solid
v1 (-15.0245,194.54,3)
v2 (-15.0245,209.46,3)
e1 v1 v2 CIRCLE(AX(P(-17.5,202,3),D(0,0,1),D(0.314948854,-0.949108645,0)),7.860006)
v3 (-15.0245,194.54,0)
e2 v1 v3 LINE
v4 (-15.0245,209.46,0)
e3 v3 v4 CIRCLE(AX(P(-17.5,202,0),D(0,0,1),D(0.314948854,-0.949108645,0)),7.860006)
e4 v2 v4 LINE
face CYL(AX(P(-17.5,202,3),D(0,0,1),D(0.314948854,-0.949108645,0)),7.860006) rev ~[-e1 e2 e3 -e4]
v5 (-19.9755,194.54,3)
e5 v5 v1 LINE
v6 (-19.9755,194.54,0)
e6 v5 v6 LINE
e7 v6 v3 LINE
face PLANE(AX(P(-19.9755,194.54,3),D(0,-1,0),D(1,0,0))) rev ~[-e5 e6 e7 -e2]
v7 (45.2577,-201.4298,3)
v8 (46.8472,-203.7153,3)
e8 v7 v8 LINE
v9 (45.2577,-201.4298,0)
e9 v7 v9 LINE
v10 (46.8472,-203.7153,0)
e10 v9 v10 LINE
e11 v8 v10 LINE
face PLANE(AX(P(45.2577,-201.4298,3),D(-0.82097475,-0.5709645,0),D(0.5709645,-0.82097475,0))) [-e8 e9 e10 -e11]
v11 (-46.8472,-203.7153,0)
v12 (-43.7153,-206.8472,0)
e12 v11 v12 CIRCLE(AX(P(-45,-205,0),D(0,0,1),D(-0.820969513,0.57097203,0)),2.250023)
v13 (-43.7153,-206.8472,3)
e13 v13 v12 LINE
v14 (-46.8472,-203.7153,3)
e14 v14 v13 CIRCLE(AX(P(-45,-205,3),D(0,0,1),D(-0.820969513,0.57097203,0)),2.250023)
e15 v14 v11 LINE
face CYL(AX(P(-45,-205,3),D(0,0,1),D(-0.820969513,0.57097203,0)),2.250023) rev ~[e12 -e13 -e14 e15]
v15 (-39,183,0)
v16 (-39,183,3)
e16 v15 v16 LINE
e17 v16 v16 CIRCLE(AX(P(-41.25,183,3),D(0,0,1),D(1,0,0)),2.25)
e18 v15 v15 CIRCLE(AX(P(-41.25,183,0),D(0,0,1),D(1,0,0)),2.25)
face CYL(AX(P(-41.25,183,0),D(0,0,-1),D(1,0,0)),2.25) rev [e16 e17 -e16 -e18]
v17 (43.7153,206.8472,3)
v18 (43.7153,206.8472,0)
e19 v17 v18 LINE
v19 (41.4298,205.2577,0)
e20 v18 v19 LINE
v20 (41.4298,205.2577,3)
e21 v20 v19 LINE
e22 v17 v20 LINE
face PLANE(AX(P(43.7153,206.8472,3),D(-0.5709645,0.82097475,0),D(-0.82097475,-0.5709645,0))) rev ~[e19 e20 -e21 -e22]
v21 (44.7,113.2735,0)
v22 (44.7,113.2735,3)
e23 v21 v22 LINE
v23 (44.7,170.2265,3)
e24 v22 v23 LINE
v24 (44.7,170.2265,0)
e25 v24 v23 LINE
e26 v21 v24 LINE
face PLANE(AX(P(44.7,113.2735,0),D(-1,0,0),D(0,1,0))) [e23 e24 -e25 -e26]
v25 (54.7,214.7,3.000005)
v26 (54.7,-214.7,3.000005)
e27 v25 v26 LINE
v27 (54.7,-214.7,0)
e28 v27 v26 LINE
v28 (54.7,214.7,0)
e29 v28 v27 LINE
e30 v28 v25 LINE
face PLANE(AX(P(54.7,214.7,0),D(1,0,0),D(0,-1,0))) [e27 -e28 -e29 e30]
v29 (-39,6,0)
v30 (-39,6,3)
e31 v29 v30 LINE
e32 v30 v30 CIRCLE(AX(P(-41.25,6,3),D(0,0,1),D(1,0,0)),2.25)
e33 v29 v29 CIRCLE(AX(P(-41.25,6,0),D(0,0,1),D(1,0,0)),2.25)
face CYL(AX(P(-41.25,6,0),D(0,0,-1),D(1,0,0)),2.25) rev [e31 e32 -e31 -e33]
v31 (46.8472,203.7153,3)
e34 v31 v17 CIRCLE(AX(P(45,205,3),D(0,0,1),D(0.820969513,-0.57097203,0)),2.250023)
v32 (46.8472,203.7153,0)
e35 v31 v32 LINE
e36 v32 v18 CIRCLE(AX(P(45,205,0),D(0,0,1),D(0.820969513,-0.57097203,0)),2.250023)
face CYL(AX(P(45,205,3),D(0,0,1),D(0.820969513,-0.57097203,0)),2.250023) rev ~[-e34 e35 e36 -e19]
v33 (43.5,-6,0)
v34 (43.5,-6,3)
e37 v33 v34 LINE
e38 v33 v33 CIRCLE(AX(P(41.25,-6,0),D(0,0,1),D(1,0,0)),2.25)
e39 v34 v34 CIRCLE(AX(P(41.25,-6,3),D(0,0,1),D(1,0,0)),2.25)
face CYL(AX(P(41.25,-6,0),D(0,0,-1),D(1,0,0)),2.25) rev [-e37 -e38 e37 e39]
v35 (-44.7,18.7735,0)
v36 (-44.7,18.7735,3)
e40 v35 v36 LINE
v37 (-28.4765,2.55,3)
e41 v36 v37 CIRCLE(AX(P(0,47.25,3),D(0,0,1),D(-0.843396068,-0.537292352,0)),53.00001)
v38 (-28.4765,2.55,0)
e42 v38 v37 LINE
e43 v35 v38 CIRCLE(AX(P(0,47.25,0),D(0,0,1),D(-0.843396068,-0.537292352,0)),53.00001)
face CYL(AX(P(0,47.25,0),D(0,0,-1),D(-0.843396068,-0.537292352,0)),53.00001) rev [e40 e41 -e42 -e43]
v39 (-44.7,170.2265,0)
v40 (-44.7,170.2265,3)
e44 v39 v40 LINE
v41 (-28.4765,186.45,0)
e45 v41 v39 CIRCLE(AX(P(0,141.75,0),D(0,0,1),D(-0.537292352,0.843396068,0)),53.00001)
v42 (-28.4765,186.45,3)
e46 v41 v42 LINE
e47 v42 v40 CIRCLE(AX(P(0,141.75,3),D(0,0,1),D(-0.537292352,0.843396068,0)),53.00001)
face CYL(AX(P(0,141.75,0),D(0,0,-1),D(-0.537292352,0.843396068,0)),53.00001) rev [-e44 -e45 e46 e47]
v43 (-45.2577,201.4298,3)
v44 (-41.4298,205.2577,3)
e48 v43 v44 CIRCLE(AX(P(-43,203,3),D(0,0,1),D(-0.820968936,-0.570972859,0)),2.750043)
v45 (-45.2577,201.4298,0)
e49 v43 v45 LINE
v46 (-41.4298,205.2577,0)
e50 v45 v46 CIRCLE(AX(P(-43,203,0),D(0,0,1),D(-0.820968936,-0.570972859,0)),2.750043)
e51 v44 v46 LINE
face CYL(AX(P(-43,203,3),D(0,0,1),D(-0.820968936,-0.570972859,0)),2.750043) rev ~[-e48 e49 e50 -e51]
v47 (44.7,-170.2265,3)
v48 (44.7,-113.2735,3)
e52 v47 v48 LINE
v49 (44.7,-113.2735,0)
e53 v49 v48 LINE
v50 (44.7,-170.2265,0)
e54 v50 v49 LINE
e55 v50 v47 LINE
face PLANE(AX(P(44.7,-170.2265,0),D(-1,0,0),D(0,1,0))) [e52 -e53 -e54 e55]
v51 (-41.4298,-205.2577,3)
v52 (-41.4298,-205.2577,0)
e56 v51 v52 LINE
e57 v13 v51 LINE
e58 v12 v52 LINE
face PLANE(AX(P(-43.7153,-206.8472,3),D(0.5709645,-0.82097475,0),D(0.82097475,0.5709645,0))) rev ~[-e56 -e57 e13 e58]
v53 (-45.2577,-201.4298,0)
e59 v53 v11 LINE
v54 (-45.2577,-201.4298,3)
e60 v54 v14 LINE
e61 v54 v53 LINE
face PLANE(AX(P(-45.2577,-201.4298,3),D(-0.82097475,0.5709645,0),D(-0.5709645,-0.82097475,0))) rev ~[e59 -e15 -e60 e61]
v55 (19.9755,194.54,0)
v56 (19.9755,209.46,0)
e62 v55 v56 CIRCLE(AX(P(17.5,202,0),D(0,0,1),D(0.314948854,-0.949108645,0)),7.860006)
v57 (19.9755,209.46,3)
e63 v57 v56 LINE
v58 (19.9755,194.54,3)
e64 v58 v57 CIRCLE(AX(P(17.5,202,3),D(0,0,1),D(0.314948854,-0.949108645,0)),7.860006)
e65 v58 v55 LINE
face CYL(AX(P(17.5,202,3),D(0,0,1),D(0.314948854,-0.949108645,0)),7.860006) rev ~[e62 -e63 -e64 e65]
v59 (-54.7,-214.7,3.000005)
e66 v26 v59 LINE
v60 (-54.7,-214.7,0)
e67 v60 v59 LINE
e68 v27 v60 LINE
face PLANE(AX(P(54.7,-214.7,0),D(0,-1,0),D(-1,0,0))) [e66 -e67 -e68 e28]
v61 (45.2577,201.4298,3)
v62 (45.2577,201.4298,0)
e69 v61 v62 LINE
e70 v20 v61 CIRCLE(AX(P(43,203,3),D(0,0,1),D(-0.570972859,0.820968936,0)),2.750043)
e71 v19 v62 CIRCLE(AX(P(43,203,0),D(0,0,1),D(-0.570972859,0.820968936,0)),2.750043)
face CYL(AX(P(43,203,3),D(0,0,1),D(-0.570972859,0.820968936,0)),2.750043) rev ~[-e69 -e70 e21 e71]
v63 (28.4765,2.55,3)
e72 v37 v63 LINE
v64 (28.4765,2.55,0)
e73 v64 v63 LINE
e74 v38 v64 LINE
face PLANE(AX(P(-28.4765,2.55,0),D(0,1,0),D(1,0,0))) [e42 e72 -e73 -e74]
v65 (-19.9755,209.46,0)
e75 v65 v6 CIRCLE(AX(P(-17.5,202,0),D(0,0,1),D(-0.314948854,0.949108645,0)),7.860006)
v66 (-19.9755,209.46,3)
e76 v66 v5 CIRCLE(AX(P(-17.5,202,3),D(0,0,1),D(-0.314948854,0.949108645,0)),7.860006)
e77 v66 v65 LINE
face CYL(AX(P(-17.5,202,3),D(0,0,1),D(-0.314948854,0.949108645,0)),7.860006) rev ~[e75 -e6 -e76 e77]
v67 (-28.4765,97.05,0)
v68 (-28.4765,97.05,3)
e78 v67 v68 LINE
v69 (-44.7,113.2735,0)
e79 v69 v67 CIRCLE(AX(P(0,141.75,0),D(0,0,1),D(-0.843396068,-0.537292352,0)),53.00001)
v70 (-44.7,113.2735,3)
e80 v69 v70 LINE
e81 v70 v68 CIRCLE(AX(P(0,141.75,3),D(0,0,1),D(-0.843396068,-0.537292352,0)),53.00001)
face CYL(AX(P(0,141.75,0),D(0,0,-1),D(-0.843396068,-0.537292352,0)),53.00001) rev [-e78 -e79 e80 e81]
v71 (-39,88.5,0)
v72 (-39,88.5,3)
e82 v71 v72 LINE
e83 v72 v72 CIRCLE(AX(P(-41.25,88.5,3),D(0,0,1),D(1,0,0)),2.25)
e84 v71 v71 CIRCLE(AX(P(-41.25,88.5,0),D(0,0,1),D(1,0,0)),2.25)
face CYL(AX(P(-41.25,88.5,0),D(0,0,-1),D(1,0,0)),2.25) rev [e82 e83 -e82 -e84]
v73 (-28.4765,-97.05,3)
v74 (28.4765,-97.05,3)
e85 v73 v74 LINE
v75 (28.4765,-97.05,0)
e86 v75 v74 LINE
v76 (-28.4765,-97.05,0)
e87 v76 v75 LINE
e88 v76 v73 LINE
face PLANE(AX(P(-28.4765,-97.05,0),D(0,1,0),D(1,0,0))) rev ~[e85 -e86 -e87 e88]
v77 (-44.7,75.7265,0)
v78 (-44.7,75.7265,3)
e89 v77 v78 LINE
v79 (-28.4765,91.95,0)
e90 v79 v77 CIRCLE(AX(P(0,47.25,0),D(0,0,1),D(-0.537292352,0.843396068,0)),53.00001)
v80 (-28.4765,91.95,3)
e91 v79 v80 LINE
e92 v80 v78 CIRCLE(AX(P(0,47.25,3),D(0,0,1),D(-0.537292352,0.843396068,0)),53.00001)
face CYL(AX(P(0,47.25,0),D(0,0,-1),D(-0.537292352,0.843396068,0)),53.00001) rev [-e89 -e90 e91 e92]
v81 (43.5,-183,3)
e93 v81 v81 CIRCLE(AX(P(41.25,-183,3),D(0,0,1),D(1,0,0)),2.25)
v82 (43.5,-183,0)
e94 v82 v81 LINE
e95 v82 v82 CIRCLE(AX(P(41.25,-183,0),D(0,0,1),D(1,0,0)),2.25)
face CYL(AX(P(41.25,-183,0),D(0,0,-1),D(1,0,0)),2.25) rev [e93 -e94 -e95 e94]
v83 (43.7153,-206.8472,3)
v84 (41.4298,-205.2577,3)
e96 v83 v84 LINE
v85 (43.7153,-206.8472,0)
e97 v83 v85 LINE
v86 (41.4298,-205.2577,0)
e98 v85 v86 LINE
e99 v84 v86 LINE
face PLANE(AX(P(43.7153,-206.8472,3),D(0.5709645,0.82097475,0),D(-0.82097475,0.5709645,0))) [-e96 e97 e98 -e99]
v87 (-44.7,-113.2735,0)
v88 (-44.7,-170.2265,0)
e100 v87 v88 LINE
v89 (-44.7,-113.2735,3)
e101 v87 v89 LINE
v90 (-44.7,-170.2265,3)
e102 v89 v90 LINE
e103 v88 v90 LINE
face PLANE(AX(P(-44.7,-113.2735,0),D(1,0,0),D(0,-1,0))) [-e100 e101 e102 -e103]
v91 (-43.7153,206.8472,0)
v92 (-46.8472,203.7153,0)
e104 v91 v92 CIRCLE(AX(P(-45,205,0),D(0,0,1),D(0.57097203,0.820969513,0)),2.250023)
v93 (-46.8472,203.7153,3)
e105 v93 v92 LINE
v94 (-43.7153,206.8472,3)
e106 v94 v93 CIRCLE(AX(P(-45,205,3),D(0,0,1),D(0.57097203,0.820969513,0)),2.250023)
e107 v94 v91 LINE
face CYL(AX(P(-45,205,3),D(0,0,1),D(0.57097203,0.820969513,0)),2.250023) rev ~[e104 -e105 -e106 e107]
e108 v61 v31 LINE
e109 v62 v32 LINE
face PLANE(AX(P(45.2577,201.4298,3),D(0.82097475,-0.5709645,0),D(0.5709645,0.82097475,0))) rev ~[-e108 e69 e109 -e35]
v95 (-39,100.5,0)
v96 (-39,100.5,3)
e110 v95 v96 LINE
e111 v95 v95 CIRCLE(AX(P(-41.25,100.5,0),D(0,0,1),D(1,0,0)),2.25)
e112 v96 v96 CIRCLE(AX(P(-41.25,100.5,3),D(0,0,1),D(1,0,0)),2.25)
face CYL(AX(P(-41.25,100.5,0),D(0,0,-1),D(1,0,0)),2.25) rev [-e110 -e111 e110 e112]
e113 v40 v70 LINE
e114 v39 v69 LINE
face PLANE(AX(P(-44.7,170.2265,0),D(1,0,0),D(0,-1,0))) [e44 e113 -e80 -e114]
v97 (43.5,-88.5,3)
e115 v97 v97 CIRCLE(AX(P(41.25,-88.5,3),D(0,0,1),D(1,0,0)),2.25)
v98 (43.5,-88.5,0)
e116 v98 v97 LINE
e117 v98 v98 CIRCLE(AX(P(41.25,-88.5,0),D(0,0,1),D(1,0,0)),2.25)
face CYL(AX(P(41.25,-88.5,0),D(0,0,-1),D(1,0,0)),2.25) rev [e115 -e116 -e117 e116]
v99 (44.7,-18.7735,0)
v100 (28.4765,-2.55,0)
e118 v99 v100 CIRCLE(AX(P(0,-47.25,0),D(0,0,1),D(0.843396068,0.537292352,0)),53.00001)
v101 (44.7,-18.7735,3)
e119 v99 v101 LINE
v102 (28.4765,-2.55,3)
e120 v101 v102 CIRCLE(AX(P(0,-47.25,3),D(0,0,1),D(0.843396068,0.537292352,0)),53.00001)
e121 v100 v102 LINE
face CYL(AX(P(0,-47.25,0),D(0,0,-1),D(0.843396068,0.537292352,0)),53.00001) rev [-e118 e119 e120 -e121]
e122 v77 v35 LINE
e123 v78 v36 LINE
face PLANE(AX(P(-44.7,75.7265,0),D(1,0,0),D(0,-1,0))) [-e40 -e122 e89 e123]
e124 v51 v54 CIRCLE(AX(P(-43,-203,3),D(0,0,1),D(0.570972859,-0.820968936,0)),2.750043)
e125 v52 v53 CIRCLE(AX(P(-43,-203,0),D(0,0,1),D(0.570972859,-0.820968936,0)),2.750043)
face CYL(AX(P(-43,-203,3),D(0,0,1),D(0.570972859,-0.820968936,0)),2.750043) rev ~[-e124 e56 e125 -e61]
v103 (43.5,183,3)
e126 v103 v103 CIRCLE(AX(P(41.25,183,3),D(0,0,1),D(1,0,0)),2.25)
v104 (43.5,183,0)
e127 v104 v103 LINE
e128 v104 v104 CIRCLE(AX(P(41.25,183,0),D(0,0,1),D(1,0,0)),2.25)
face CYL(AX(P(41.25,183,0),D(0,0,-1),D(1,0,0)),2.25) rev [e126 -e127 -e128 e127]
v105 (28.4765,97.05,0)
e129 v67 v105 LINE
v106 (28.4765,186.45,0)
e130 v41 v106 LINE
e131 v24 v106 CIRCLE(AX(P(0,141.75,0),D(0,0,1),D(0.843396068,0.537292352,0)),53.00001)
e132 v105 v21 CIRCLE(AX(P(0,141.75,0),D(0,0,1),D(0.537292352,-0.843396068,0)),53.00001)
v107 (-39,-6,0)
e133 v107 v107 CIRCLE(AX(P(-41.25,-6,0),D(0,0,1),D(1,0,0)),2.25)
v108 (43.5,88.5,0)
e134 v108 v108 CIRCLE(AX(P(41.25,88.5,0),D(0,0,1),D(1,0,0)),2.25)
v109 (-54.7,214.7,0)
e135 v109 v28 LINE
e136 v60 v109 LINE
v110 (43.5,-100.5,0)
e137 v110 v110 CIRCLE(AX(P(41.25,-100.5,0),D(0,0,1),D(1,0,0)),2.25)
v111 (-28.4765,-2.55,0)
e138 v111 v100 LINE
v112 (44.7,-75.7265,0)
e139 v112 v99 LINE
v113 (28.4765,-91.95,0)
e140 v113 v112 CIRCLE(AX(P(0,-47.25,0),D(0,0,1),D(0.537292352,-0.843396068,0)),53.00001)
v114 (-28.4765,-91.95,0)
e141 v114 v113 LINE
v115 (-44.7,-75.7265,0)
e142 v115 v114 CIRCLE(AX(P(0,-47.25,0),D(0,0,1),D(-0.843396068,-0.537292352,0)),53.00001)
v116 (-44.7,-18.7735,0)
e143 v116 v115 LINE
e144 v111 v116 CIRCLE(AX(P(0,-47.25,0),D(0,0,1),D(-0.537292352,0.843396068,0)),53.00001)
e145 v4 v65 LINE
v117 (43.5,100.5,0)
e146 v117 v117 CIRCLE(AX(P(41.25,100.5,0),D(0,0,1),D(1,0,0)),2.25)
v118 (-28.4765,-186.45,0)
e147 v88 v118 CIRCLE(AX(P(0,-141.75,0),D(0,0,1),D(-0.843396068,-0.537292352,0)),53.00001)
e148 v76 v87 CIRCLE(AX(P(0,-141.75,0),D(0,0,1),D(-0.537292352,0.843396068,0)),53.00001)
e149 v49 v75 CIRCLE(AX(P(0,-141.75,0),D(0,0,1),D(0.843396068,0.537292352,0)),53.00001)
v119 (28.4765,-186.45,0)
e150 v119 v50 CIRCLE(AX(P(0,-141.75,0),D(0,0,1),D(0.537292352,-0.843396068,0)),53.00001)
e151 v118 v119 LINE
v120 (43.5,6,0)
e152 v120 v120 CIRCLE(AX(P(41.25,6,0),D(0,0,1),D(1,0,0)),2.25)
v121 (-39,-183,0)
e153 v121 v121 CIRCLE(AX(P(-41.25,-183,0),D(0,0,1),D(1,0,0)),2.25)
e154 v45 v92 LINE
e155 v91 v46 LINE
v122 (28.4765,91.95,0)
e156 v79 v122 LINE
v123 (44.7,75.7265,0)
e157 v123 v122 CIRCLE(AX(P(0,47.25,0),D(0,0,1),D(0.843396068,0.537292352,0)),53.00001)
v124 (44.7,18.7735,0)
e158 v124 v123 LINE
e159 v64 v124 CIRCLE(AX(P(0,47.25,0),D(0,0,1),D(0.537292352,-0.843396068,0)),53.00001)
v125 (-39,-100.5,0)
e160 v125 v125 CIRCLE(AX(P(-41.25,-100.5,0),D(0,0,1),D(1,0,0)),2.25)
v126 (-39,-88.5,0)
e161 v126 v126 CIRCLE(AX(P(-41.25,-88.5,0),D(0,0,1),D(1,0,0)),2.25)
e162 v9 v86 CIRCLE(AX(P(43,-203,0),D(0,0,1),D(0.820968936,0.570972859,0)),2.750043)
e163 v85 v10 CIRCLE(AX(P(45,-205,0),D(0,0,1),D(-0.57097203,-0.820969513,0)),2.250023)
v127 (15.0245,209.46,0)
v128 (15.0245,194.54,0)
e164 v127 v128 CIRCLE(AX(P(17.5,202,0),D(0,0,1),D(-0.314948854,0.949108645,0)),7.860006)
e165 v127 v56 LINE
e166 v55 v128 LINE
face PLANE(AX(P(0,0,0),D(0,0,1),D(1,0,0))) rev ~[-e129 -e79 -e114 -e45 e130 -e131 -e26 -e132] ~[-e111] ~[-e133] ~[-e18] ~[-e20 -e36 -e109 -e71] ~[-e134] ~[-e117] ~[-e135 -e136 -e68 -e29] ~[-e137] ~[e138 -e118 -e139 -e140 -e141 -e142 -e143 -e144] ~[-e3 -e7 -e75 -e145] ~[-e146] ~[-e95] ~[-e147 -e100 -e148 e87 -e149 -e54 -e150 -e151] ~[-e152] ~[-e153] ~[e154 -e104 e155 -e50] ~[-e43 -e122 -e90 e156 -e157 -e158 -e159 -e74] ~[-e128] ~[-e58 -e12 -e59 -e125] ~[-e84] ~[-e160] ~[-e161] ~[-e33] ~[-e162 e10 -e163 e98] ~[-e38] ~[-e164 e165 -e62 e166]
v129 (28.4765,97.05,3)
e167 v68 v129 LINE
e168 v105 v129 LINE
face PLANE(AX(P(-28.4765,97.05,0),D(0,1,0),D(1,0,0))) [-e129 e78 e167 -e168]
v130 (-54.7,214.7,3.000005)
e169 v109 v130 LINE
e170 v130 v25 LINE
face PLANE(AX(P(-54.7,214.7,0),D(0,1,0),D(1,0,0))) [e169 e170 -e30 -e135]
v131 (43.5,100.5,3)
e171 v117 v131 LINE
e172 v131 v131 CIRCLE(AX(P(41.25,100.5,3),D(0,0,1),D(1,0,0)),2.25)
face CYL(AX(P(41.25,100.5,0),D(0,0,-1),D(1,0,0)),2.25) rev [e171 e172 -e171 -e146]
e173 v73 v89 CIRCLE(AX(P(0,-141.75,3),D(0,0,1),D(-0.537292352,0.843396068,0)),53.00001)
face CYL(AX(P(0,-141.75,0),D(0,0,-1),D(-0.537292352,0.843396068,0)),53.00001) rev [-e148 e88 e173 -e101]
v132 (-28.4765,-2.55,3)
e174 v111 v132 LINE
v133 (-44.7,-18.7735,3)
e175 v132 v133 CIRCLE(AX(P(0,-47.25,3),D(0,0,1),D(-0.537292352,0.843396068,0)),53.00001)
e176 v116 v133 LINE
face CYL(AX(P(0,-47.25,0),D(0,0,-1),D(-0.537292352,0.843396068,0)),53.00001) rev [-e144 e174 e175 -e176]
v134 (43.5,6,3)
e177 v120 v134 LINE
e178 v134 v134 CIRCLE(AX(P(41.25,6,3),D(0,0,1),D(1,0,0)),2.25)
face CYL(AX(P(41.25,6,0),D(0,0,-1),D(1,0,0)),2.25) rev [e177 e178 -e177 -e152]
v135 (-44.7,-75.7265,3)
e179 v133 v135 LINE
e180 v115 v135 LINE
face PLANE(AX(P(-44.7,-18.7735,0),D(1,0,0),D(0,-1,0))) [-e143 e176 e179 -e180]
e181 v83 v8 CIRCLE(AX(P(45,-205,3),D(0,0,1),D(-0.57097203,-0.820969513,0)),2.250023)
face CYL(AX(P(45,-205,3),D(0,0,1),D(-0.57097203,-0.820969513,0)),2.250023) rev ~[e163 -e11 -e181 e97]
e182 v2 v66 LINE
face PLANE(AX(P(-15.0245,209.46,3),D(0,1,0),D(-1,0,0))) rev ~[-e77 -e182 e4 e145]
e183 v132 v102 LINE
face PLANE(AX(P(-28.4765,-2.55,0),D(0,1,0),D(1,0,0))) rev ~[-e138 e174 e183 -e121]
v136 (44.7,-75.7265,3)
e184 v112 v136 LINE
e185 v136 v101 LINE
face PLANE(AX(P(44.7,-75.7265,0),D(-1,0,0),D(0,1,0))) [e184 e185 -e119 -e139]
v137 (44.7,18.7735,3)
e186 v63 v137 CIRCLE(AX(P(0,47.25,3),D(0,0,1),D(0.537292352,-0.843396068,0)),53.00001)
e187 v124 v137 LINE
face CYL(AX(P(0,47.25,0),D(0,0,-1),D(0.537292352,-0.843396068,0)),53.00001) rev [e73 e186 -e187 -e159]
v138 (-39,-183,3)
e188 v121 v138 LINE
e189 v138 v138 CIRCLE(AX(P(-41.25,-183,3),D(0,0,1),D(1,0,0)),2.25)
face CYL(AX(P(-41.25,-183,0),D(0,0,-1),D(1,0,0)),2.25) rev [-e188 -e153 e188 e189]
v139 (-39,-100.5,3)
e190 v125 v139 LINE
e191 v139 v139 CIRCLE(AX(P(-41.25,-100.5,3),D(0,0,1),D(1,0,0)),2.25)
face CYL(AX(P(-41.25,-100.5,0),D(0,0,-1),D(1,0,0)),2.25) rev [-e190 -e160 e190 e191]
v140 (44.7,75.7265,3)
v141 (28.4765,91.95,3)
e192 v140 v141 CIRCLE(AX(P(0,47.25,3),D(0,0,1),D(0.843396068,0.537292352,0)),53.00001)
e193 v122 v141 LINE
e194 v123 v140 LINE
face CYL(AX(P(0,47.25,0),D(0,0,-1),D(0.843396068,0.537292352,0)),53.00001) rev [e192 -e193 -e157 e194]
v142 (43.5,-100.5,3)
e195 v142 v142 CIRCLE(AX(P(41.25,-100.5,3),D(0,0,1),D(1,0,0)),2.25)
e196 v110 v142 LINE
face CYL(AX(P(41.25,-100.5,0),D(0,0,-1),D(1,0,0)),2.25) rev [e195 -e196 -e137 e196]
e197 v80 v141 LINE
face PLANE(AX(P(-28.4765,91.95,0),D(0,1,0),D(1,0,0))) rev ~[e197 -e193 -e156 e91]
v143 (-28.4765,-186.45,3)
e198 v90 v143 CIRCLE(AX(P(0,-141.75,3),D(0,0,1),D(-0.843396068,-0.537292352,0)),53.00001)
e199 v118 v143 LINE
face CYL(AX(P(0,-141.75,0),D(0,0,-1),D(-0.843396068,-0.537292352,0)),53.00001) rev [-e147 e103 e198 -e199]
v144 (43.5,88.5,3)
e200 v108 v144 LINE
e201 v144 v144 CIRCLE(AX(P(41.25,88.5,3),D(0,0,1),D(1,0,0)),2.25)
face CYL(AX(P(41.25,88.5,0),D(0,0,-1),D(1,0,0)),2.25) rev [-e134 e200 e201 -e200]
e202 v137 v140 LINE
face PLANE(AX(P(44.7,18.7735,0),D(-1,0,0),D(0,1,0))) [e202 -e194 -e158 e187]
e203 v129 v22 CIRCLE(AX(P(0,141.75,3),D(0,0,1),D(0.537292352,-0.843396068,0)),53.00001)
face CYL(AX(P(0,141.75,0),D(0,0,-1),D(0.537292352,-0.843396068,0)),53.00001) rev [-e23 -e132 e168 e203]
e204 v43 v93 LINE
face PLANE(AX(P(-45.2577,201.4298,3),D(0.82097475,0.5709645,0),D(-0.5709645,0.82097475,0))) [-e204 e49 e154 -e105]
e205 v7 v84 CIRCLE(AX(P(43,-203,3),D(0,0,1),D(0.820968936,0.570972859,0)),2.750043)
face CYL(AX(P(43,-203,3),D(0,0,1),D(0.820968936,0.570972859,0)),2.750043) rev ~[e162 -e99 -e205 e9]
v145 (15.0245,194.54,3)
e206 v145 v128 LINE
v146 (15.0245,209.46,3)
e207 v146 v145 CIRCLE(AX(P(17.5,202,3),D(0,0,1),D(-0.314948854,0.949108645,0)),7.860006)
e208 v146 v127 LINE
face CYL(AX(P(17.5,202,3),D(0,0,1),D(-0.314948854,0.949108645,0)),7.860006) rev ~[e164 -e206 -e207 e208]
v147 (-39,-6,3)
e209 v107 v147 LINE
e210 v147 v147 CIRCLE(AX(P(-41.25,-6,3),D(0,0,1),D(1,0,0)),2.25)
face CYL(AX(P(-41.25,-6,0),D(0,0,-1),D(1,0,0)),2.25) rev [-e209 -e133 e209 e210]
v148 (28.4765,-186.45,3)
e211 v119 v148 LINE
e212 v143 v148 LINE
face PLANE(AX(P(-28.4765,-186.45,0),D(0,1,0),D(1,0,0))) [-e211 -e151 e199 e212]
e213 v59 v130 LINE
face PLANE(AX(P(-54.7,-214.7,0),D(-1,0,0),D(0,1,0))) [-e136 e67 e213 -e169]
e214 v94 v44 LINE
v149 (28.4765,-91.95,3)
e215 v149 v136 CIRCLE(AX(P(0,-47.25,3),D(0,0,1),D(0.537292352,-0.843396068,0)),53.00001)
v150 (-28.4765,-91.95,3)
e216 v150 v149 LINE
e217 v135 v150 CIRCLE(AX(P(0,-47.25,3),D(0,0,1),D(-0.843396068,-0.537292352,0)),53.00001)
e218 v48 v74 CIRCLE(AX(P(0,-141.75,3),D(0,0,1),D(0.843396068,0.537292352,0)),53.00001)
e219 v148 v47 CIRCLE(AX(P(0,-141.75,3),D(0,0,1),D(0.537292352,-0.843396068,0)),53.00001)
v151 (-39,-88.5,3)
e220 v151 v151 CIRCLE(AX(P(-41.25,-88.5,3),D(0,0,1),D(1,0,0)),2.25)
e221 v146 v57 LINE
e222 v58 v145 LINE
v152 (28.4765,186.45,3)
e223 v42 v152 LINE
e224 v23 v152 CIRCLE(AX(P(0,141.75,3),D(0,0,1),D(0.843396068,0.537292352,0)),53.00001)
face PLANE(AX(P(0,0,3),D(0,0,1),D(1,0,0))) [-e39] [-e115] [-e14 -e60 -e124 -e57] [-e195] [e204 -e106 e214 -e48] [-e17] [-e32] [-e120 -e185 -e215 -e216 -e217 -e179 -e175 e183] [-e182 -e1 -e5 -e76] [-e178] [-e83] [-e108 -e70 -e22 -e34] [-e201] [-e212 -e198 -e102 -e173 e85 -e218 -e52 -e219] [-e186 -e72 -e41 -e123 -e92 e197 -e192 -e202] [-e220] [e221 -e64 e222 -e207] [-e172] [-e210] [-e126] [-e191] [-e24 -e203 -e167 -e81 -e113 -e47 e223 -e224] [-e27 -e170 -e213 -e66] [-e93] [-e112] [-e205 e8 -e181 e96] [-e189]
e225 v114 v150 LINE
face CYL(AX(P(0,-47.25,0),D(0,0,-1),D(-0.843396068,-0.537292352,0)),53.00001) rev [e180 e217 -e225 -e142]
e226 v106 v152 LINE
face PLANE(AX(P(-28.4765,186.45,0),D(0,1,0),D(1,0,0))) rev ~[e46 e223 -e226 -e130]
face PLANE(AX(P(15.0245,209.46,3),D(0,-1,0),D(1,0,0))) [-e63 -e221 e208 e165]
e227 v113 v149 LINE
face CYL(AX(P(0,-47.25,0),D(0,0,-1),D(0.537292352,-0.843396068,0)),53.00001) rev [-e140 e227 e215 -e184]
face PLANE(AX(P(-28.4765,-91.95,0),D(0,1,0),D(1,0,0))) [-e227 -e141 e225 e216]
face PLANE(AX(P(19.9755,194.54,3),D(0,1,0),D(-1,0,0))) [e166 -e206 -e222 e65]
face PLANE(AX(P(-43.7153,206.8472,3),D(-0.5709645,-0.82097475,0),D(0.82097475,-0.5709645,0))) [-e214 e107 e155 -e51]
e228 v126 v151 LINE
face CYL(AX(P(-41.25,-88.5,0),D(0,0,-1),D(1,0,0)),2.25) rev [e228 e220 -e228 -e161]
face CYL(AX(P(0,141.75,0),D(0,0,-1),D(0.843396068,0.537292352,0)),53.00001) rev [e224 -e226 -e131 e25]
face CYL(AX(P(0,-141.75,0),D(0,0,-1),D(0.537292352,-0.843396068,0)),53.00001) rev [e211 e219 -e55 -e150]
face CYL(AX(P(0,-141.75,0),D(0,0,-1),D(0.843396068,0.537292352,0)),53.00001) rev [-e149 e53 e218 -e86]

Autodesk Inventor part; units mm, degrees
ref_plane "YZ Plane" through (0, 0, 0) normal (1, 0, 0) x (0, 1, 0)
ref_plane "XZ Plane" through (0, 0, 0) normal (0, 1, 0) x (-1, 0, 0)
ref_plane "XY Plane" through (0, 0, 0) normal (0, 0, 1) x (1, 0, 0)
sketch "スケッチ1" plane through (0, 0, 0) normal (0, 0, 1) x (1, 0, 0)
  line L0 (-55, -215) -> (55, -215)
  line L1 (55, -215) -> (55, 215)
  line L2 (55, 215) -> (-55, 215)
  line L3 (-55, 215) -> (-55, -215)
  line L4 (-55, -215) -> (55, 215) construction
  line L5 (55, -215) -> (-55, 215) construction
  line L6 (-55, 185) -> (-50, 185) construction
  line L7 (-50, 185) -> (-25, 210) construction
  line L8 (-25, 210) -> (-25, 215) construction
  line L9 (-46, 95.75) -> (46, 95.75) construction
  line L10 (46, 95.75) -> (46, 187.75) construction
  line L11 (46, 187.75) -> (-46, 187.75) construction
  line L12 (-46, 187.75) -> (-46, 95.75) construction
  line L13 (-46, 95.75) -> (46, 187.75) construction
  line L14 (46, 95.75) -> (-46, 187.75) construction
  line L15 (-46, 1.25) -> (46, 1.25) construction
  line L16 (46, 1.25) -> (46, 93.25) construction
  line L17 (46, 93.25) -> (-46, 93.25) construction
  line L18 (-46, 93.25) -> (-46, 1.25) construction
  line L19 (-46, 1.25) -> (46, 93.25) construction
  line L20 (46, 1.25) -> (-46, 93.25) construction
  line L21 (0, 0) -> (0, 141.75) construction
  circle A0 centre (0, 141.75) radius 53 construction
  line L22 (-44.7, 97.05) -> (44.7, 97.05) construction
  line L23 (44.7, 97.05) -> (44.7, 186.45) construction
  line L24 (44.7, 186.45) -> (-44.7, 186.45) construction
  line L25 (-44.7, 186.45) -> (-44.7, 97.05) construction
  line L26 (-44.7, 97.05) -> (44.7, 186.45) construction
  line L27 (44.7, 97.05) -> (-44.7, 186.45) construction
  arc A1 (-28.4765, 186.45) -> (-44.7, 170.2265) centre (0, 141.75) ccw
  arc A2 (-44.7, 113.2735) -> (-28.4765, 97.05) centre (0, 141.75) ccw
  arc A3 (28.4765, 97.05) -> (44.7, 113.2735) centre (0, 141.75) ccw
  arc A4 (44.7, 170.2265) -> (28.4765, 186.45) centre (0, 141.75) ccw
  line L28 (-28.4765, 186.45) -> (28.4765, 186.45)
  line L29 (-44.7, 170.2265) -> (-44.7, 113.2735)
  line L30 (-28.4765, 97.05) -> (28.4765, 97.05)
  line L31 (44.7, 113.2735) -> (44.7, 170.2265)
  line L32 (-41.25, 100.5) -> (41.25, 100.5) construction
  line L33 (41.25, 100.5) -> (41.25, 183) construction
  line L34 (41.25, 183) -> (-41.25, 183) construction
  line L35 (-41.25, 183) -> (-41.25, 100.5) construction
  line L36 (-41.25, 100.5) -> (41.25, 183) construction
  line L37 (41.25, 100.5) -> (-41.25, 183) construction
  circle A5 centre (-41.25, 183) radius 2.25
  circle A6 centre (-41.25, 100.5) radius 2.25
  circle A7 centre (41.25, 100.5) radius 2.25
  circle A8 centre (41.25, 183) radius 2.25
  circle A9 centre (-41.25, 88.5) radius 2.25
  arc A10 (-28.4765, 91.95) -> (-44.7, 75.7265) centre (0, 47.25) ccw
  line L38 (-28.4765, 91.95) -> (28.4765, 91.95)
  arc A11 (44.7, 75.7265) -> (28.4765, 91.95) centre (0, 47.25) ccw
  circle A12 centre (41.25, 88.5) radius 2.25
  line L39 (44.7, 18.7735) -> (44.7, 75.7265)
  arc A13 (28.4765, 2.55) -> (44.7, 18.7735) centre (0, 47.25) ccw
  circle A14 centre (41.25, 6) radius 2.25
  line L40 (-28.4765, 2.55) -> (28.4765, 2.55)
  circle A15 centre (-41.25, 6) radius 2.25
  arc A16 (-44.7, 18.7735) -> (-28.4765, 2.55) centre (0, 47.25) ccw
  line L41 (-44.7, 75.7265) -> (-44.7, 18.7735)
  circle A17 centre (-41.25, -6) radius 2.25
  arc A18 (-28.4765, -2.55) -> (-44.7, -18.7735) centre (0, -47.25) ccw
  line L42 (-28.4765, -2.55) -> (28.4765, -2.55)
  arc A19 (44.7, -18.7735) -> (28.4765, -2.55) centre (0, -47.25) ccw
  circle A20 centre (41.25, -6) radius 2.25
  line L43 (44.7, -75.7265) -> (44.7, -18.7735)
  arc A21 (28.4765, -91.95) -> (44.7, -75.7265) centre (0, -47.25) ccw
  circle A22 centre (41.25, -88.5) radius 2.25
  line L44 (-28.4765, -91.95) -> (28.4765, -91.95)
  circle A23 centre (-41.25, -88.5) radius 2.25
  arc A24 (-44.7, -75.7265) -> (-28.4765, -91.95) centre (0, -47.25) ccw
  line L45 (-44.7, -18.7735) -> (-44.7, -75.7265)
  circle A25 centre (-41.25, -100.5) radius 2.25
  arc A26 (-28.4765, -97.05) -> (-44.7, -113.2735) centre (0, -141.75) ccw
  line L46 (-28.4765, -97.05) -> (28.4765, -97.05)
  arc A27 (44.7, -113.2735) -> (28.4765, -97.05) centre (0, -141.75) ccw
  circle A28 centre (41.25, -100.5) radius 2.25
  line L47 (44.7, -170.2265) -> (44.7, -113.2735)
  arc A29 (28.4765, -186.45) -> (44.7, -170.2265) centre (0, -141.75) ccw
  circle A30 centre (41.25, -183) radius 2.25
  line L48 (-28.4765, -186.45) -> (28.4765, -186.45)
  circle A31 centre (-41.25, -183) radius 2.25
  arc A32 (-44.7, -170.2265) -> (-28.4765, -186.45) centre (0, -141.75) ccw
  line L49 (-44.7, -113.2735) -> (-44.7, -170.2265)
  circle A33 centre (-45, 205) radius 2.25
  circle A34 centre (45, 205) radius 2.25
  circle A35 centre (45, -205) radius 2.25
  circle A36 centre (-45, -205) radius 2.25
  circle A37 centre (-45, 0) radius 2.25
  circle A38 centre (45, 0) radius 2.25
  line L50 (-55, 0) -> (55, 0) construction
  point P0 (0, 47.25)
  point P1 (0, 47.25)
  dimension "d12" = 106
  dimension "d0" = 110
  dimension "d1" = 430
  dimension "d2" = 135
  dimension "d3" = 30
  dimension "d4" = 30
  dimension "d5" = 5
  dimension "d6" = 92
  dimension "d7" = 92
  dimension "d8" = 92
  dimension "d9" = 92
  dimension "d10" = 2.5
  dimension "d11" = 1.25
  dimension "d13" = 89.4
  dimension "d14" = 89.4
  dimension "d15" = 82.5
  dimension "d16" = 82.5
  dimension "d17" = 4.5
  dimension "d20" = 94.5
  dimension "d25" = 4.5
  dimension "d26" = 10
  dimension "d27" = 10
  dimension "d28" = 10
  dimension "d29" = 10
  dimension "d30" = 10
  dimension "d31" = 10
  dimension "d32" = 10
  dimension "d33" = 10
  dimension "d34" = 10
  dimension "d35" = 10
extrude "押し出し1" add sketch "スケッチ1" along normal blind 3 contours L3 L2 L1 L0 | A37 | A38
sketch "スケッチ2" plane through (0, 0, 3) normal (0, 0, 1) x (1, 0, 0)
  circle A0 centre (-45, 205) radius 2.25 construction
  circle A1 centre (45, -205) radius 2.25 construction
  circle A2 centre (-45, -205) radius 2.25 construction
  circle A3 centre (-43, 203) radius 2.75 construction
  line L0 (55, 215) -> (-55, 215) projected
  line L1 (-55, 215) -> (-55, -215) projected
  line L2 (-43.7153, 206.8472) -> (-41.4298, 205.2577)
  line L3 (-45.2577, 201.4298) -> (-46.8472, 203.7153)
  circle A4 centre (-45, 205) radius 2.25 construction
  arc A5 (-43.7153, 206.8472) -> (-46.8472, 203.7153) centre (-45, 205) ccw
  arc A6 (-45.2577, 201.4298) -> (-41.4298, 205.2577) centre (-43, 203) ccw
  line L4 (55, 215) -> (-55, 215) construction
  line L5 (0, 215) -> (0, -215) construction
  line L6 (-55, -215) -> (55, -215) construction
  line L7 (-55, 0) -> (55, 0) construction
  line L8 (55, -215) -> (55, 215) construction
  circle A7 centre (45, 205) radius 2.25 construction
  circle A8 centre (43, 203) radius 2.75 construction
  line L9 (43.7153, 206.8472) -> (41.4298, 205.2577)
  line L10 (45.2577, 201.4298) -> (46.8472, 203.7153)
  circle A9 centre (45, 205) radius 2.25 construction
  arc A10 (46.8472, 203.7153) -> (43.7153, 206.8472) centre (45, 205) ccw
  arc A11 (41.4298, 205.2577) -> (45.2577, 201.4298) centre (43, 203) ccw
  circle A12 centre (-45, -205) radius 2.25 construction
  circle A13 centre (-43, -203) radius 2.75 construction
  line L11 (-43.7153, -206.8472) -> (-41.4298, -205.2577)
  line L12 (-45.2577, -201.4298) -> (-46.8472, -203.7153)
  circle A14 centre (-45, -205) radius 2.25 construction
  arc A15 (-46.8472, -203.7153) -> (-43.7153, -206.8472) centre (-45, -205) ccw
  arc A16 (-41.4298, -205.2577) -> (-45.2577, -201.4298) centre (-43, -203) ccw
  circle A17 centre (45, -205) radius 2.25 construction
  line L13 (45.2577, -201.4298) -> (46.8472, -203.7153)
  arc A18 (45.2577, -201.4298) -> (41.4298, -205.2577) centre (43, -203) ccw
  circle A19 centre (43, -203) radius 2.75 construction
  line L14 (43.7153, -206.8472) -> (41.4298, -205.2577)
  circle A20 centre (45, -205) radius 2.25 construction
  arc A21 (43.7153, -206.8472) -> (46.8472, -203.7153) centre (45, -205) ccw
  point P0 (0, 0)
  dimension "d38" = 5.5
  dimension "d39" = 12
  dimension "d40" = 12
extrude "押し出し2" cut sketch "スケッチ2" against normal through all
sketch "スケッチ4" plane through (0, 0, 3) normal (0, 0, 1) x (1, 0, 0)
  line L0 (55, 215) -> (-55, 215) construction
  line L1 (-28.4765, 186.45) -> (28.4765, 186.45) construction
  line L2 (55, 215) -> (-55, 215) construction
  line L3 (0, 215) -> (0, 186.45) construction
  arc A0 (-19.9739, 209.45) -> (-19.9739, 194.55) centre (-17.5, 202) ccw construction
  line L4 (-19.9739, 209.45) -> (-15.0261, 209.45) construction
  line L5 (-15.0261, 194.55) -> (-19.9739, 194.55) construction
  arc A1 (-15.0261, 209.45) -> (-19.9739, 209.45) centre (-17.5, 202) ccw construction
  arc A2 (-15.0261, 194.55) -> (-15.0261, 209.45) centre (-17.5, 202) ccw construction
  arc A3 (-19.9739, 194.55) -> (-15.0261, 194.55) centre (-17.5, 202) ccw construction
  line L6 (-19.9755, 194.54) -> (-15.0245, 194.54)
  arc A4 (-15.0245, 194.54) -> (-15.0245, 209.46) centre (-17.5, 202) ccw
  line L7 (-15.0245, 209.46) -> (-19.9755, 209.46)
  arc A5 (-19.9755, 209.46) -> (-19.9755, 194.54) centre (-17.5, 202) ccw
  line L8 (-25, 215) -> (-25, 210) construction
  line L9 (-25, 210) -> (-50, 185) construction
  line L10 (-50, 185) -> (-55, 185) construction
  line L11 (-55, 215) -> (-55, -215) construction
  line L12 (19.9755, 194.54) -> (15.0245, 194.54)
  line L13 (15.0245, 209.46) -> (19.9755, 209.46)
  arc A6 (15.0245, 209.46) -> (15.0245, 194.54) centre (17.5, 202) ccw
  arc A7 (19.9755, 194.54) -> (19.9755, 209.46) centre (17.5, 202) ccw
  point P0 (0, 0)
  dimension "d46" = 15.7
  dimension "d47" = 14.9
  dimension "d48" = 0.01
  dimension "d49" = 13
  dimension "d50" = 17.5
  dimension "d51" = 135
  dimension "d52" = 30
  dimension "d53" = 5
extrude "押し出し4" cut sketch "スケッチ4" against normal through all
sketch "スケッチ3" plane through (0, 0, 0) normal (0, 0, -1) x (-1, 0, 0)
  line L0 (-55, 215) -> (55, 215) construction
  line L1 (-55, -215) -> (-55, 215) construction
  line L2 (55, -215) -> (-55, -215) construction
  line L3 (55, 215) -> (55, -215) construction
  line L4 (54.7, 214.7) -> (-54.7, 214.7)
  line L5 (-54.7, 214.7) -> (-54.7, -214.7)
  line L6 (-54.7, -214.7) -> (54.7, -214.7)
  line L7 (54.7, -214.7) -> (54.7, 214.7)
  point P0 (0, 0)
  dimension "d43" = 0.3
extrude "押し出し3" cut sketch "スケッチ3" against normal through all keep common part
equation "\"d4\" = d3"
equation "\"d11\" = 0.5 * d10"
equation "\"d20\" = d7 + d10"
equation "\"d27\" = d26"
equation "\"d28\" = d26"
equation "\"d29\" = d26"
equation "\"d30\" = d26"
equation "\"d31\" = d26"
equation "\"d32\" = d26"
equation "\"d33\" = d26"
equation "\"d34\" = d26"
equation "\"d35\" = d26"
properties part number "front_panel" material "アルミニウム 6061"
